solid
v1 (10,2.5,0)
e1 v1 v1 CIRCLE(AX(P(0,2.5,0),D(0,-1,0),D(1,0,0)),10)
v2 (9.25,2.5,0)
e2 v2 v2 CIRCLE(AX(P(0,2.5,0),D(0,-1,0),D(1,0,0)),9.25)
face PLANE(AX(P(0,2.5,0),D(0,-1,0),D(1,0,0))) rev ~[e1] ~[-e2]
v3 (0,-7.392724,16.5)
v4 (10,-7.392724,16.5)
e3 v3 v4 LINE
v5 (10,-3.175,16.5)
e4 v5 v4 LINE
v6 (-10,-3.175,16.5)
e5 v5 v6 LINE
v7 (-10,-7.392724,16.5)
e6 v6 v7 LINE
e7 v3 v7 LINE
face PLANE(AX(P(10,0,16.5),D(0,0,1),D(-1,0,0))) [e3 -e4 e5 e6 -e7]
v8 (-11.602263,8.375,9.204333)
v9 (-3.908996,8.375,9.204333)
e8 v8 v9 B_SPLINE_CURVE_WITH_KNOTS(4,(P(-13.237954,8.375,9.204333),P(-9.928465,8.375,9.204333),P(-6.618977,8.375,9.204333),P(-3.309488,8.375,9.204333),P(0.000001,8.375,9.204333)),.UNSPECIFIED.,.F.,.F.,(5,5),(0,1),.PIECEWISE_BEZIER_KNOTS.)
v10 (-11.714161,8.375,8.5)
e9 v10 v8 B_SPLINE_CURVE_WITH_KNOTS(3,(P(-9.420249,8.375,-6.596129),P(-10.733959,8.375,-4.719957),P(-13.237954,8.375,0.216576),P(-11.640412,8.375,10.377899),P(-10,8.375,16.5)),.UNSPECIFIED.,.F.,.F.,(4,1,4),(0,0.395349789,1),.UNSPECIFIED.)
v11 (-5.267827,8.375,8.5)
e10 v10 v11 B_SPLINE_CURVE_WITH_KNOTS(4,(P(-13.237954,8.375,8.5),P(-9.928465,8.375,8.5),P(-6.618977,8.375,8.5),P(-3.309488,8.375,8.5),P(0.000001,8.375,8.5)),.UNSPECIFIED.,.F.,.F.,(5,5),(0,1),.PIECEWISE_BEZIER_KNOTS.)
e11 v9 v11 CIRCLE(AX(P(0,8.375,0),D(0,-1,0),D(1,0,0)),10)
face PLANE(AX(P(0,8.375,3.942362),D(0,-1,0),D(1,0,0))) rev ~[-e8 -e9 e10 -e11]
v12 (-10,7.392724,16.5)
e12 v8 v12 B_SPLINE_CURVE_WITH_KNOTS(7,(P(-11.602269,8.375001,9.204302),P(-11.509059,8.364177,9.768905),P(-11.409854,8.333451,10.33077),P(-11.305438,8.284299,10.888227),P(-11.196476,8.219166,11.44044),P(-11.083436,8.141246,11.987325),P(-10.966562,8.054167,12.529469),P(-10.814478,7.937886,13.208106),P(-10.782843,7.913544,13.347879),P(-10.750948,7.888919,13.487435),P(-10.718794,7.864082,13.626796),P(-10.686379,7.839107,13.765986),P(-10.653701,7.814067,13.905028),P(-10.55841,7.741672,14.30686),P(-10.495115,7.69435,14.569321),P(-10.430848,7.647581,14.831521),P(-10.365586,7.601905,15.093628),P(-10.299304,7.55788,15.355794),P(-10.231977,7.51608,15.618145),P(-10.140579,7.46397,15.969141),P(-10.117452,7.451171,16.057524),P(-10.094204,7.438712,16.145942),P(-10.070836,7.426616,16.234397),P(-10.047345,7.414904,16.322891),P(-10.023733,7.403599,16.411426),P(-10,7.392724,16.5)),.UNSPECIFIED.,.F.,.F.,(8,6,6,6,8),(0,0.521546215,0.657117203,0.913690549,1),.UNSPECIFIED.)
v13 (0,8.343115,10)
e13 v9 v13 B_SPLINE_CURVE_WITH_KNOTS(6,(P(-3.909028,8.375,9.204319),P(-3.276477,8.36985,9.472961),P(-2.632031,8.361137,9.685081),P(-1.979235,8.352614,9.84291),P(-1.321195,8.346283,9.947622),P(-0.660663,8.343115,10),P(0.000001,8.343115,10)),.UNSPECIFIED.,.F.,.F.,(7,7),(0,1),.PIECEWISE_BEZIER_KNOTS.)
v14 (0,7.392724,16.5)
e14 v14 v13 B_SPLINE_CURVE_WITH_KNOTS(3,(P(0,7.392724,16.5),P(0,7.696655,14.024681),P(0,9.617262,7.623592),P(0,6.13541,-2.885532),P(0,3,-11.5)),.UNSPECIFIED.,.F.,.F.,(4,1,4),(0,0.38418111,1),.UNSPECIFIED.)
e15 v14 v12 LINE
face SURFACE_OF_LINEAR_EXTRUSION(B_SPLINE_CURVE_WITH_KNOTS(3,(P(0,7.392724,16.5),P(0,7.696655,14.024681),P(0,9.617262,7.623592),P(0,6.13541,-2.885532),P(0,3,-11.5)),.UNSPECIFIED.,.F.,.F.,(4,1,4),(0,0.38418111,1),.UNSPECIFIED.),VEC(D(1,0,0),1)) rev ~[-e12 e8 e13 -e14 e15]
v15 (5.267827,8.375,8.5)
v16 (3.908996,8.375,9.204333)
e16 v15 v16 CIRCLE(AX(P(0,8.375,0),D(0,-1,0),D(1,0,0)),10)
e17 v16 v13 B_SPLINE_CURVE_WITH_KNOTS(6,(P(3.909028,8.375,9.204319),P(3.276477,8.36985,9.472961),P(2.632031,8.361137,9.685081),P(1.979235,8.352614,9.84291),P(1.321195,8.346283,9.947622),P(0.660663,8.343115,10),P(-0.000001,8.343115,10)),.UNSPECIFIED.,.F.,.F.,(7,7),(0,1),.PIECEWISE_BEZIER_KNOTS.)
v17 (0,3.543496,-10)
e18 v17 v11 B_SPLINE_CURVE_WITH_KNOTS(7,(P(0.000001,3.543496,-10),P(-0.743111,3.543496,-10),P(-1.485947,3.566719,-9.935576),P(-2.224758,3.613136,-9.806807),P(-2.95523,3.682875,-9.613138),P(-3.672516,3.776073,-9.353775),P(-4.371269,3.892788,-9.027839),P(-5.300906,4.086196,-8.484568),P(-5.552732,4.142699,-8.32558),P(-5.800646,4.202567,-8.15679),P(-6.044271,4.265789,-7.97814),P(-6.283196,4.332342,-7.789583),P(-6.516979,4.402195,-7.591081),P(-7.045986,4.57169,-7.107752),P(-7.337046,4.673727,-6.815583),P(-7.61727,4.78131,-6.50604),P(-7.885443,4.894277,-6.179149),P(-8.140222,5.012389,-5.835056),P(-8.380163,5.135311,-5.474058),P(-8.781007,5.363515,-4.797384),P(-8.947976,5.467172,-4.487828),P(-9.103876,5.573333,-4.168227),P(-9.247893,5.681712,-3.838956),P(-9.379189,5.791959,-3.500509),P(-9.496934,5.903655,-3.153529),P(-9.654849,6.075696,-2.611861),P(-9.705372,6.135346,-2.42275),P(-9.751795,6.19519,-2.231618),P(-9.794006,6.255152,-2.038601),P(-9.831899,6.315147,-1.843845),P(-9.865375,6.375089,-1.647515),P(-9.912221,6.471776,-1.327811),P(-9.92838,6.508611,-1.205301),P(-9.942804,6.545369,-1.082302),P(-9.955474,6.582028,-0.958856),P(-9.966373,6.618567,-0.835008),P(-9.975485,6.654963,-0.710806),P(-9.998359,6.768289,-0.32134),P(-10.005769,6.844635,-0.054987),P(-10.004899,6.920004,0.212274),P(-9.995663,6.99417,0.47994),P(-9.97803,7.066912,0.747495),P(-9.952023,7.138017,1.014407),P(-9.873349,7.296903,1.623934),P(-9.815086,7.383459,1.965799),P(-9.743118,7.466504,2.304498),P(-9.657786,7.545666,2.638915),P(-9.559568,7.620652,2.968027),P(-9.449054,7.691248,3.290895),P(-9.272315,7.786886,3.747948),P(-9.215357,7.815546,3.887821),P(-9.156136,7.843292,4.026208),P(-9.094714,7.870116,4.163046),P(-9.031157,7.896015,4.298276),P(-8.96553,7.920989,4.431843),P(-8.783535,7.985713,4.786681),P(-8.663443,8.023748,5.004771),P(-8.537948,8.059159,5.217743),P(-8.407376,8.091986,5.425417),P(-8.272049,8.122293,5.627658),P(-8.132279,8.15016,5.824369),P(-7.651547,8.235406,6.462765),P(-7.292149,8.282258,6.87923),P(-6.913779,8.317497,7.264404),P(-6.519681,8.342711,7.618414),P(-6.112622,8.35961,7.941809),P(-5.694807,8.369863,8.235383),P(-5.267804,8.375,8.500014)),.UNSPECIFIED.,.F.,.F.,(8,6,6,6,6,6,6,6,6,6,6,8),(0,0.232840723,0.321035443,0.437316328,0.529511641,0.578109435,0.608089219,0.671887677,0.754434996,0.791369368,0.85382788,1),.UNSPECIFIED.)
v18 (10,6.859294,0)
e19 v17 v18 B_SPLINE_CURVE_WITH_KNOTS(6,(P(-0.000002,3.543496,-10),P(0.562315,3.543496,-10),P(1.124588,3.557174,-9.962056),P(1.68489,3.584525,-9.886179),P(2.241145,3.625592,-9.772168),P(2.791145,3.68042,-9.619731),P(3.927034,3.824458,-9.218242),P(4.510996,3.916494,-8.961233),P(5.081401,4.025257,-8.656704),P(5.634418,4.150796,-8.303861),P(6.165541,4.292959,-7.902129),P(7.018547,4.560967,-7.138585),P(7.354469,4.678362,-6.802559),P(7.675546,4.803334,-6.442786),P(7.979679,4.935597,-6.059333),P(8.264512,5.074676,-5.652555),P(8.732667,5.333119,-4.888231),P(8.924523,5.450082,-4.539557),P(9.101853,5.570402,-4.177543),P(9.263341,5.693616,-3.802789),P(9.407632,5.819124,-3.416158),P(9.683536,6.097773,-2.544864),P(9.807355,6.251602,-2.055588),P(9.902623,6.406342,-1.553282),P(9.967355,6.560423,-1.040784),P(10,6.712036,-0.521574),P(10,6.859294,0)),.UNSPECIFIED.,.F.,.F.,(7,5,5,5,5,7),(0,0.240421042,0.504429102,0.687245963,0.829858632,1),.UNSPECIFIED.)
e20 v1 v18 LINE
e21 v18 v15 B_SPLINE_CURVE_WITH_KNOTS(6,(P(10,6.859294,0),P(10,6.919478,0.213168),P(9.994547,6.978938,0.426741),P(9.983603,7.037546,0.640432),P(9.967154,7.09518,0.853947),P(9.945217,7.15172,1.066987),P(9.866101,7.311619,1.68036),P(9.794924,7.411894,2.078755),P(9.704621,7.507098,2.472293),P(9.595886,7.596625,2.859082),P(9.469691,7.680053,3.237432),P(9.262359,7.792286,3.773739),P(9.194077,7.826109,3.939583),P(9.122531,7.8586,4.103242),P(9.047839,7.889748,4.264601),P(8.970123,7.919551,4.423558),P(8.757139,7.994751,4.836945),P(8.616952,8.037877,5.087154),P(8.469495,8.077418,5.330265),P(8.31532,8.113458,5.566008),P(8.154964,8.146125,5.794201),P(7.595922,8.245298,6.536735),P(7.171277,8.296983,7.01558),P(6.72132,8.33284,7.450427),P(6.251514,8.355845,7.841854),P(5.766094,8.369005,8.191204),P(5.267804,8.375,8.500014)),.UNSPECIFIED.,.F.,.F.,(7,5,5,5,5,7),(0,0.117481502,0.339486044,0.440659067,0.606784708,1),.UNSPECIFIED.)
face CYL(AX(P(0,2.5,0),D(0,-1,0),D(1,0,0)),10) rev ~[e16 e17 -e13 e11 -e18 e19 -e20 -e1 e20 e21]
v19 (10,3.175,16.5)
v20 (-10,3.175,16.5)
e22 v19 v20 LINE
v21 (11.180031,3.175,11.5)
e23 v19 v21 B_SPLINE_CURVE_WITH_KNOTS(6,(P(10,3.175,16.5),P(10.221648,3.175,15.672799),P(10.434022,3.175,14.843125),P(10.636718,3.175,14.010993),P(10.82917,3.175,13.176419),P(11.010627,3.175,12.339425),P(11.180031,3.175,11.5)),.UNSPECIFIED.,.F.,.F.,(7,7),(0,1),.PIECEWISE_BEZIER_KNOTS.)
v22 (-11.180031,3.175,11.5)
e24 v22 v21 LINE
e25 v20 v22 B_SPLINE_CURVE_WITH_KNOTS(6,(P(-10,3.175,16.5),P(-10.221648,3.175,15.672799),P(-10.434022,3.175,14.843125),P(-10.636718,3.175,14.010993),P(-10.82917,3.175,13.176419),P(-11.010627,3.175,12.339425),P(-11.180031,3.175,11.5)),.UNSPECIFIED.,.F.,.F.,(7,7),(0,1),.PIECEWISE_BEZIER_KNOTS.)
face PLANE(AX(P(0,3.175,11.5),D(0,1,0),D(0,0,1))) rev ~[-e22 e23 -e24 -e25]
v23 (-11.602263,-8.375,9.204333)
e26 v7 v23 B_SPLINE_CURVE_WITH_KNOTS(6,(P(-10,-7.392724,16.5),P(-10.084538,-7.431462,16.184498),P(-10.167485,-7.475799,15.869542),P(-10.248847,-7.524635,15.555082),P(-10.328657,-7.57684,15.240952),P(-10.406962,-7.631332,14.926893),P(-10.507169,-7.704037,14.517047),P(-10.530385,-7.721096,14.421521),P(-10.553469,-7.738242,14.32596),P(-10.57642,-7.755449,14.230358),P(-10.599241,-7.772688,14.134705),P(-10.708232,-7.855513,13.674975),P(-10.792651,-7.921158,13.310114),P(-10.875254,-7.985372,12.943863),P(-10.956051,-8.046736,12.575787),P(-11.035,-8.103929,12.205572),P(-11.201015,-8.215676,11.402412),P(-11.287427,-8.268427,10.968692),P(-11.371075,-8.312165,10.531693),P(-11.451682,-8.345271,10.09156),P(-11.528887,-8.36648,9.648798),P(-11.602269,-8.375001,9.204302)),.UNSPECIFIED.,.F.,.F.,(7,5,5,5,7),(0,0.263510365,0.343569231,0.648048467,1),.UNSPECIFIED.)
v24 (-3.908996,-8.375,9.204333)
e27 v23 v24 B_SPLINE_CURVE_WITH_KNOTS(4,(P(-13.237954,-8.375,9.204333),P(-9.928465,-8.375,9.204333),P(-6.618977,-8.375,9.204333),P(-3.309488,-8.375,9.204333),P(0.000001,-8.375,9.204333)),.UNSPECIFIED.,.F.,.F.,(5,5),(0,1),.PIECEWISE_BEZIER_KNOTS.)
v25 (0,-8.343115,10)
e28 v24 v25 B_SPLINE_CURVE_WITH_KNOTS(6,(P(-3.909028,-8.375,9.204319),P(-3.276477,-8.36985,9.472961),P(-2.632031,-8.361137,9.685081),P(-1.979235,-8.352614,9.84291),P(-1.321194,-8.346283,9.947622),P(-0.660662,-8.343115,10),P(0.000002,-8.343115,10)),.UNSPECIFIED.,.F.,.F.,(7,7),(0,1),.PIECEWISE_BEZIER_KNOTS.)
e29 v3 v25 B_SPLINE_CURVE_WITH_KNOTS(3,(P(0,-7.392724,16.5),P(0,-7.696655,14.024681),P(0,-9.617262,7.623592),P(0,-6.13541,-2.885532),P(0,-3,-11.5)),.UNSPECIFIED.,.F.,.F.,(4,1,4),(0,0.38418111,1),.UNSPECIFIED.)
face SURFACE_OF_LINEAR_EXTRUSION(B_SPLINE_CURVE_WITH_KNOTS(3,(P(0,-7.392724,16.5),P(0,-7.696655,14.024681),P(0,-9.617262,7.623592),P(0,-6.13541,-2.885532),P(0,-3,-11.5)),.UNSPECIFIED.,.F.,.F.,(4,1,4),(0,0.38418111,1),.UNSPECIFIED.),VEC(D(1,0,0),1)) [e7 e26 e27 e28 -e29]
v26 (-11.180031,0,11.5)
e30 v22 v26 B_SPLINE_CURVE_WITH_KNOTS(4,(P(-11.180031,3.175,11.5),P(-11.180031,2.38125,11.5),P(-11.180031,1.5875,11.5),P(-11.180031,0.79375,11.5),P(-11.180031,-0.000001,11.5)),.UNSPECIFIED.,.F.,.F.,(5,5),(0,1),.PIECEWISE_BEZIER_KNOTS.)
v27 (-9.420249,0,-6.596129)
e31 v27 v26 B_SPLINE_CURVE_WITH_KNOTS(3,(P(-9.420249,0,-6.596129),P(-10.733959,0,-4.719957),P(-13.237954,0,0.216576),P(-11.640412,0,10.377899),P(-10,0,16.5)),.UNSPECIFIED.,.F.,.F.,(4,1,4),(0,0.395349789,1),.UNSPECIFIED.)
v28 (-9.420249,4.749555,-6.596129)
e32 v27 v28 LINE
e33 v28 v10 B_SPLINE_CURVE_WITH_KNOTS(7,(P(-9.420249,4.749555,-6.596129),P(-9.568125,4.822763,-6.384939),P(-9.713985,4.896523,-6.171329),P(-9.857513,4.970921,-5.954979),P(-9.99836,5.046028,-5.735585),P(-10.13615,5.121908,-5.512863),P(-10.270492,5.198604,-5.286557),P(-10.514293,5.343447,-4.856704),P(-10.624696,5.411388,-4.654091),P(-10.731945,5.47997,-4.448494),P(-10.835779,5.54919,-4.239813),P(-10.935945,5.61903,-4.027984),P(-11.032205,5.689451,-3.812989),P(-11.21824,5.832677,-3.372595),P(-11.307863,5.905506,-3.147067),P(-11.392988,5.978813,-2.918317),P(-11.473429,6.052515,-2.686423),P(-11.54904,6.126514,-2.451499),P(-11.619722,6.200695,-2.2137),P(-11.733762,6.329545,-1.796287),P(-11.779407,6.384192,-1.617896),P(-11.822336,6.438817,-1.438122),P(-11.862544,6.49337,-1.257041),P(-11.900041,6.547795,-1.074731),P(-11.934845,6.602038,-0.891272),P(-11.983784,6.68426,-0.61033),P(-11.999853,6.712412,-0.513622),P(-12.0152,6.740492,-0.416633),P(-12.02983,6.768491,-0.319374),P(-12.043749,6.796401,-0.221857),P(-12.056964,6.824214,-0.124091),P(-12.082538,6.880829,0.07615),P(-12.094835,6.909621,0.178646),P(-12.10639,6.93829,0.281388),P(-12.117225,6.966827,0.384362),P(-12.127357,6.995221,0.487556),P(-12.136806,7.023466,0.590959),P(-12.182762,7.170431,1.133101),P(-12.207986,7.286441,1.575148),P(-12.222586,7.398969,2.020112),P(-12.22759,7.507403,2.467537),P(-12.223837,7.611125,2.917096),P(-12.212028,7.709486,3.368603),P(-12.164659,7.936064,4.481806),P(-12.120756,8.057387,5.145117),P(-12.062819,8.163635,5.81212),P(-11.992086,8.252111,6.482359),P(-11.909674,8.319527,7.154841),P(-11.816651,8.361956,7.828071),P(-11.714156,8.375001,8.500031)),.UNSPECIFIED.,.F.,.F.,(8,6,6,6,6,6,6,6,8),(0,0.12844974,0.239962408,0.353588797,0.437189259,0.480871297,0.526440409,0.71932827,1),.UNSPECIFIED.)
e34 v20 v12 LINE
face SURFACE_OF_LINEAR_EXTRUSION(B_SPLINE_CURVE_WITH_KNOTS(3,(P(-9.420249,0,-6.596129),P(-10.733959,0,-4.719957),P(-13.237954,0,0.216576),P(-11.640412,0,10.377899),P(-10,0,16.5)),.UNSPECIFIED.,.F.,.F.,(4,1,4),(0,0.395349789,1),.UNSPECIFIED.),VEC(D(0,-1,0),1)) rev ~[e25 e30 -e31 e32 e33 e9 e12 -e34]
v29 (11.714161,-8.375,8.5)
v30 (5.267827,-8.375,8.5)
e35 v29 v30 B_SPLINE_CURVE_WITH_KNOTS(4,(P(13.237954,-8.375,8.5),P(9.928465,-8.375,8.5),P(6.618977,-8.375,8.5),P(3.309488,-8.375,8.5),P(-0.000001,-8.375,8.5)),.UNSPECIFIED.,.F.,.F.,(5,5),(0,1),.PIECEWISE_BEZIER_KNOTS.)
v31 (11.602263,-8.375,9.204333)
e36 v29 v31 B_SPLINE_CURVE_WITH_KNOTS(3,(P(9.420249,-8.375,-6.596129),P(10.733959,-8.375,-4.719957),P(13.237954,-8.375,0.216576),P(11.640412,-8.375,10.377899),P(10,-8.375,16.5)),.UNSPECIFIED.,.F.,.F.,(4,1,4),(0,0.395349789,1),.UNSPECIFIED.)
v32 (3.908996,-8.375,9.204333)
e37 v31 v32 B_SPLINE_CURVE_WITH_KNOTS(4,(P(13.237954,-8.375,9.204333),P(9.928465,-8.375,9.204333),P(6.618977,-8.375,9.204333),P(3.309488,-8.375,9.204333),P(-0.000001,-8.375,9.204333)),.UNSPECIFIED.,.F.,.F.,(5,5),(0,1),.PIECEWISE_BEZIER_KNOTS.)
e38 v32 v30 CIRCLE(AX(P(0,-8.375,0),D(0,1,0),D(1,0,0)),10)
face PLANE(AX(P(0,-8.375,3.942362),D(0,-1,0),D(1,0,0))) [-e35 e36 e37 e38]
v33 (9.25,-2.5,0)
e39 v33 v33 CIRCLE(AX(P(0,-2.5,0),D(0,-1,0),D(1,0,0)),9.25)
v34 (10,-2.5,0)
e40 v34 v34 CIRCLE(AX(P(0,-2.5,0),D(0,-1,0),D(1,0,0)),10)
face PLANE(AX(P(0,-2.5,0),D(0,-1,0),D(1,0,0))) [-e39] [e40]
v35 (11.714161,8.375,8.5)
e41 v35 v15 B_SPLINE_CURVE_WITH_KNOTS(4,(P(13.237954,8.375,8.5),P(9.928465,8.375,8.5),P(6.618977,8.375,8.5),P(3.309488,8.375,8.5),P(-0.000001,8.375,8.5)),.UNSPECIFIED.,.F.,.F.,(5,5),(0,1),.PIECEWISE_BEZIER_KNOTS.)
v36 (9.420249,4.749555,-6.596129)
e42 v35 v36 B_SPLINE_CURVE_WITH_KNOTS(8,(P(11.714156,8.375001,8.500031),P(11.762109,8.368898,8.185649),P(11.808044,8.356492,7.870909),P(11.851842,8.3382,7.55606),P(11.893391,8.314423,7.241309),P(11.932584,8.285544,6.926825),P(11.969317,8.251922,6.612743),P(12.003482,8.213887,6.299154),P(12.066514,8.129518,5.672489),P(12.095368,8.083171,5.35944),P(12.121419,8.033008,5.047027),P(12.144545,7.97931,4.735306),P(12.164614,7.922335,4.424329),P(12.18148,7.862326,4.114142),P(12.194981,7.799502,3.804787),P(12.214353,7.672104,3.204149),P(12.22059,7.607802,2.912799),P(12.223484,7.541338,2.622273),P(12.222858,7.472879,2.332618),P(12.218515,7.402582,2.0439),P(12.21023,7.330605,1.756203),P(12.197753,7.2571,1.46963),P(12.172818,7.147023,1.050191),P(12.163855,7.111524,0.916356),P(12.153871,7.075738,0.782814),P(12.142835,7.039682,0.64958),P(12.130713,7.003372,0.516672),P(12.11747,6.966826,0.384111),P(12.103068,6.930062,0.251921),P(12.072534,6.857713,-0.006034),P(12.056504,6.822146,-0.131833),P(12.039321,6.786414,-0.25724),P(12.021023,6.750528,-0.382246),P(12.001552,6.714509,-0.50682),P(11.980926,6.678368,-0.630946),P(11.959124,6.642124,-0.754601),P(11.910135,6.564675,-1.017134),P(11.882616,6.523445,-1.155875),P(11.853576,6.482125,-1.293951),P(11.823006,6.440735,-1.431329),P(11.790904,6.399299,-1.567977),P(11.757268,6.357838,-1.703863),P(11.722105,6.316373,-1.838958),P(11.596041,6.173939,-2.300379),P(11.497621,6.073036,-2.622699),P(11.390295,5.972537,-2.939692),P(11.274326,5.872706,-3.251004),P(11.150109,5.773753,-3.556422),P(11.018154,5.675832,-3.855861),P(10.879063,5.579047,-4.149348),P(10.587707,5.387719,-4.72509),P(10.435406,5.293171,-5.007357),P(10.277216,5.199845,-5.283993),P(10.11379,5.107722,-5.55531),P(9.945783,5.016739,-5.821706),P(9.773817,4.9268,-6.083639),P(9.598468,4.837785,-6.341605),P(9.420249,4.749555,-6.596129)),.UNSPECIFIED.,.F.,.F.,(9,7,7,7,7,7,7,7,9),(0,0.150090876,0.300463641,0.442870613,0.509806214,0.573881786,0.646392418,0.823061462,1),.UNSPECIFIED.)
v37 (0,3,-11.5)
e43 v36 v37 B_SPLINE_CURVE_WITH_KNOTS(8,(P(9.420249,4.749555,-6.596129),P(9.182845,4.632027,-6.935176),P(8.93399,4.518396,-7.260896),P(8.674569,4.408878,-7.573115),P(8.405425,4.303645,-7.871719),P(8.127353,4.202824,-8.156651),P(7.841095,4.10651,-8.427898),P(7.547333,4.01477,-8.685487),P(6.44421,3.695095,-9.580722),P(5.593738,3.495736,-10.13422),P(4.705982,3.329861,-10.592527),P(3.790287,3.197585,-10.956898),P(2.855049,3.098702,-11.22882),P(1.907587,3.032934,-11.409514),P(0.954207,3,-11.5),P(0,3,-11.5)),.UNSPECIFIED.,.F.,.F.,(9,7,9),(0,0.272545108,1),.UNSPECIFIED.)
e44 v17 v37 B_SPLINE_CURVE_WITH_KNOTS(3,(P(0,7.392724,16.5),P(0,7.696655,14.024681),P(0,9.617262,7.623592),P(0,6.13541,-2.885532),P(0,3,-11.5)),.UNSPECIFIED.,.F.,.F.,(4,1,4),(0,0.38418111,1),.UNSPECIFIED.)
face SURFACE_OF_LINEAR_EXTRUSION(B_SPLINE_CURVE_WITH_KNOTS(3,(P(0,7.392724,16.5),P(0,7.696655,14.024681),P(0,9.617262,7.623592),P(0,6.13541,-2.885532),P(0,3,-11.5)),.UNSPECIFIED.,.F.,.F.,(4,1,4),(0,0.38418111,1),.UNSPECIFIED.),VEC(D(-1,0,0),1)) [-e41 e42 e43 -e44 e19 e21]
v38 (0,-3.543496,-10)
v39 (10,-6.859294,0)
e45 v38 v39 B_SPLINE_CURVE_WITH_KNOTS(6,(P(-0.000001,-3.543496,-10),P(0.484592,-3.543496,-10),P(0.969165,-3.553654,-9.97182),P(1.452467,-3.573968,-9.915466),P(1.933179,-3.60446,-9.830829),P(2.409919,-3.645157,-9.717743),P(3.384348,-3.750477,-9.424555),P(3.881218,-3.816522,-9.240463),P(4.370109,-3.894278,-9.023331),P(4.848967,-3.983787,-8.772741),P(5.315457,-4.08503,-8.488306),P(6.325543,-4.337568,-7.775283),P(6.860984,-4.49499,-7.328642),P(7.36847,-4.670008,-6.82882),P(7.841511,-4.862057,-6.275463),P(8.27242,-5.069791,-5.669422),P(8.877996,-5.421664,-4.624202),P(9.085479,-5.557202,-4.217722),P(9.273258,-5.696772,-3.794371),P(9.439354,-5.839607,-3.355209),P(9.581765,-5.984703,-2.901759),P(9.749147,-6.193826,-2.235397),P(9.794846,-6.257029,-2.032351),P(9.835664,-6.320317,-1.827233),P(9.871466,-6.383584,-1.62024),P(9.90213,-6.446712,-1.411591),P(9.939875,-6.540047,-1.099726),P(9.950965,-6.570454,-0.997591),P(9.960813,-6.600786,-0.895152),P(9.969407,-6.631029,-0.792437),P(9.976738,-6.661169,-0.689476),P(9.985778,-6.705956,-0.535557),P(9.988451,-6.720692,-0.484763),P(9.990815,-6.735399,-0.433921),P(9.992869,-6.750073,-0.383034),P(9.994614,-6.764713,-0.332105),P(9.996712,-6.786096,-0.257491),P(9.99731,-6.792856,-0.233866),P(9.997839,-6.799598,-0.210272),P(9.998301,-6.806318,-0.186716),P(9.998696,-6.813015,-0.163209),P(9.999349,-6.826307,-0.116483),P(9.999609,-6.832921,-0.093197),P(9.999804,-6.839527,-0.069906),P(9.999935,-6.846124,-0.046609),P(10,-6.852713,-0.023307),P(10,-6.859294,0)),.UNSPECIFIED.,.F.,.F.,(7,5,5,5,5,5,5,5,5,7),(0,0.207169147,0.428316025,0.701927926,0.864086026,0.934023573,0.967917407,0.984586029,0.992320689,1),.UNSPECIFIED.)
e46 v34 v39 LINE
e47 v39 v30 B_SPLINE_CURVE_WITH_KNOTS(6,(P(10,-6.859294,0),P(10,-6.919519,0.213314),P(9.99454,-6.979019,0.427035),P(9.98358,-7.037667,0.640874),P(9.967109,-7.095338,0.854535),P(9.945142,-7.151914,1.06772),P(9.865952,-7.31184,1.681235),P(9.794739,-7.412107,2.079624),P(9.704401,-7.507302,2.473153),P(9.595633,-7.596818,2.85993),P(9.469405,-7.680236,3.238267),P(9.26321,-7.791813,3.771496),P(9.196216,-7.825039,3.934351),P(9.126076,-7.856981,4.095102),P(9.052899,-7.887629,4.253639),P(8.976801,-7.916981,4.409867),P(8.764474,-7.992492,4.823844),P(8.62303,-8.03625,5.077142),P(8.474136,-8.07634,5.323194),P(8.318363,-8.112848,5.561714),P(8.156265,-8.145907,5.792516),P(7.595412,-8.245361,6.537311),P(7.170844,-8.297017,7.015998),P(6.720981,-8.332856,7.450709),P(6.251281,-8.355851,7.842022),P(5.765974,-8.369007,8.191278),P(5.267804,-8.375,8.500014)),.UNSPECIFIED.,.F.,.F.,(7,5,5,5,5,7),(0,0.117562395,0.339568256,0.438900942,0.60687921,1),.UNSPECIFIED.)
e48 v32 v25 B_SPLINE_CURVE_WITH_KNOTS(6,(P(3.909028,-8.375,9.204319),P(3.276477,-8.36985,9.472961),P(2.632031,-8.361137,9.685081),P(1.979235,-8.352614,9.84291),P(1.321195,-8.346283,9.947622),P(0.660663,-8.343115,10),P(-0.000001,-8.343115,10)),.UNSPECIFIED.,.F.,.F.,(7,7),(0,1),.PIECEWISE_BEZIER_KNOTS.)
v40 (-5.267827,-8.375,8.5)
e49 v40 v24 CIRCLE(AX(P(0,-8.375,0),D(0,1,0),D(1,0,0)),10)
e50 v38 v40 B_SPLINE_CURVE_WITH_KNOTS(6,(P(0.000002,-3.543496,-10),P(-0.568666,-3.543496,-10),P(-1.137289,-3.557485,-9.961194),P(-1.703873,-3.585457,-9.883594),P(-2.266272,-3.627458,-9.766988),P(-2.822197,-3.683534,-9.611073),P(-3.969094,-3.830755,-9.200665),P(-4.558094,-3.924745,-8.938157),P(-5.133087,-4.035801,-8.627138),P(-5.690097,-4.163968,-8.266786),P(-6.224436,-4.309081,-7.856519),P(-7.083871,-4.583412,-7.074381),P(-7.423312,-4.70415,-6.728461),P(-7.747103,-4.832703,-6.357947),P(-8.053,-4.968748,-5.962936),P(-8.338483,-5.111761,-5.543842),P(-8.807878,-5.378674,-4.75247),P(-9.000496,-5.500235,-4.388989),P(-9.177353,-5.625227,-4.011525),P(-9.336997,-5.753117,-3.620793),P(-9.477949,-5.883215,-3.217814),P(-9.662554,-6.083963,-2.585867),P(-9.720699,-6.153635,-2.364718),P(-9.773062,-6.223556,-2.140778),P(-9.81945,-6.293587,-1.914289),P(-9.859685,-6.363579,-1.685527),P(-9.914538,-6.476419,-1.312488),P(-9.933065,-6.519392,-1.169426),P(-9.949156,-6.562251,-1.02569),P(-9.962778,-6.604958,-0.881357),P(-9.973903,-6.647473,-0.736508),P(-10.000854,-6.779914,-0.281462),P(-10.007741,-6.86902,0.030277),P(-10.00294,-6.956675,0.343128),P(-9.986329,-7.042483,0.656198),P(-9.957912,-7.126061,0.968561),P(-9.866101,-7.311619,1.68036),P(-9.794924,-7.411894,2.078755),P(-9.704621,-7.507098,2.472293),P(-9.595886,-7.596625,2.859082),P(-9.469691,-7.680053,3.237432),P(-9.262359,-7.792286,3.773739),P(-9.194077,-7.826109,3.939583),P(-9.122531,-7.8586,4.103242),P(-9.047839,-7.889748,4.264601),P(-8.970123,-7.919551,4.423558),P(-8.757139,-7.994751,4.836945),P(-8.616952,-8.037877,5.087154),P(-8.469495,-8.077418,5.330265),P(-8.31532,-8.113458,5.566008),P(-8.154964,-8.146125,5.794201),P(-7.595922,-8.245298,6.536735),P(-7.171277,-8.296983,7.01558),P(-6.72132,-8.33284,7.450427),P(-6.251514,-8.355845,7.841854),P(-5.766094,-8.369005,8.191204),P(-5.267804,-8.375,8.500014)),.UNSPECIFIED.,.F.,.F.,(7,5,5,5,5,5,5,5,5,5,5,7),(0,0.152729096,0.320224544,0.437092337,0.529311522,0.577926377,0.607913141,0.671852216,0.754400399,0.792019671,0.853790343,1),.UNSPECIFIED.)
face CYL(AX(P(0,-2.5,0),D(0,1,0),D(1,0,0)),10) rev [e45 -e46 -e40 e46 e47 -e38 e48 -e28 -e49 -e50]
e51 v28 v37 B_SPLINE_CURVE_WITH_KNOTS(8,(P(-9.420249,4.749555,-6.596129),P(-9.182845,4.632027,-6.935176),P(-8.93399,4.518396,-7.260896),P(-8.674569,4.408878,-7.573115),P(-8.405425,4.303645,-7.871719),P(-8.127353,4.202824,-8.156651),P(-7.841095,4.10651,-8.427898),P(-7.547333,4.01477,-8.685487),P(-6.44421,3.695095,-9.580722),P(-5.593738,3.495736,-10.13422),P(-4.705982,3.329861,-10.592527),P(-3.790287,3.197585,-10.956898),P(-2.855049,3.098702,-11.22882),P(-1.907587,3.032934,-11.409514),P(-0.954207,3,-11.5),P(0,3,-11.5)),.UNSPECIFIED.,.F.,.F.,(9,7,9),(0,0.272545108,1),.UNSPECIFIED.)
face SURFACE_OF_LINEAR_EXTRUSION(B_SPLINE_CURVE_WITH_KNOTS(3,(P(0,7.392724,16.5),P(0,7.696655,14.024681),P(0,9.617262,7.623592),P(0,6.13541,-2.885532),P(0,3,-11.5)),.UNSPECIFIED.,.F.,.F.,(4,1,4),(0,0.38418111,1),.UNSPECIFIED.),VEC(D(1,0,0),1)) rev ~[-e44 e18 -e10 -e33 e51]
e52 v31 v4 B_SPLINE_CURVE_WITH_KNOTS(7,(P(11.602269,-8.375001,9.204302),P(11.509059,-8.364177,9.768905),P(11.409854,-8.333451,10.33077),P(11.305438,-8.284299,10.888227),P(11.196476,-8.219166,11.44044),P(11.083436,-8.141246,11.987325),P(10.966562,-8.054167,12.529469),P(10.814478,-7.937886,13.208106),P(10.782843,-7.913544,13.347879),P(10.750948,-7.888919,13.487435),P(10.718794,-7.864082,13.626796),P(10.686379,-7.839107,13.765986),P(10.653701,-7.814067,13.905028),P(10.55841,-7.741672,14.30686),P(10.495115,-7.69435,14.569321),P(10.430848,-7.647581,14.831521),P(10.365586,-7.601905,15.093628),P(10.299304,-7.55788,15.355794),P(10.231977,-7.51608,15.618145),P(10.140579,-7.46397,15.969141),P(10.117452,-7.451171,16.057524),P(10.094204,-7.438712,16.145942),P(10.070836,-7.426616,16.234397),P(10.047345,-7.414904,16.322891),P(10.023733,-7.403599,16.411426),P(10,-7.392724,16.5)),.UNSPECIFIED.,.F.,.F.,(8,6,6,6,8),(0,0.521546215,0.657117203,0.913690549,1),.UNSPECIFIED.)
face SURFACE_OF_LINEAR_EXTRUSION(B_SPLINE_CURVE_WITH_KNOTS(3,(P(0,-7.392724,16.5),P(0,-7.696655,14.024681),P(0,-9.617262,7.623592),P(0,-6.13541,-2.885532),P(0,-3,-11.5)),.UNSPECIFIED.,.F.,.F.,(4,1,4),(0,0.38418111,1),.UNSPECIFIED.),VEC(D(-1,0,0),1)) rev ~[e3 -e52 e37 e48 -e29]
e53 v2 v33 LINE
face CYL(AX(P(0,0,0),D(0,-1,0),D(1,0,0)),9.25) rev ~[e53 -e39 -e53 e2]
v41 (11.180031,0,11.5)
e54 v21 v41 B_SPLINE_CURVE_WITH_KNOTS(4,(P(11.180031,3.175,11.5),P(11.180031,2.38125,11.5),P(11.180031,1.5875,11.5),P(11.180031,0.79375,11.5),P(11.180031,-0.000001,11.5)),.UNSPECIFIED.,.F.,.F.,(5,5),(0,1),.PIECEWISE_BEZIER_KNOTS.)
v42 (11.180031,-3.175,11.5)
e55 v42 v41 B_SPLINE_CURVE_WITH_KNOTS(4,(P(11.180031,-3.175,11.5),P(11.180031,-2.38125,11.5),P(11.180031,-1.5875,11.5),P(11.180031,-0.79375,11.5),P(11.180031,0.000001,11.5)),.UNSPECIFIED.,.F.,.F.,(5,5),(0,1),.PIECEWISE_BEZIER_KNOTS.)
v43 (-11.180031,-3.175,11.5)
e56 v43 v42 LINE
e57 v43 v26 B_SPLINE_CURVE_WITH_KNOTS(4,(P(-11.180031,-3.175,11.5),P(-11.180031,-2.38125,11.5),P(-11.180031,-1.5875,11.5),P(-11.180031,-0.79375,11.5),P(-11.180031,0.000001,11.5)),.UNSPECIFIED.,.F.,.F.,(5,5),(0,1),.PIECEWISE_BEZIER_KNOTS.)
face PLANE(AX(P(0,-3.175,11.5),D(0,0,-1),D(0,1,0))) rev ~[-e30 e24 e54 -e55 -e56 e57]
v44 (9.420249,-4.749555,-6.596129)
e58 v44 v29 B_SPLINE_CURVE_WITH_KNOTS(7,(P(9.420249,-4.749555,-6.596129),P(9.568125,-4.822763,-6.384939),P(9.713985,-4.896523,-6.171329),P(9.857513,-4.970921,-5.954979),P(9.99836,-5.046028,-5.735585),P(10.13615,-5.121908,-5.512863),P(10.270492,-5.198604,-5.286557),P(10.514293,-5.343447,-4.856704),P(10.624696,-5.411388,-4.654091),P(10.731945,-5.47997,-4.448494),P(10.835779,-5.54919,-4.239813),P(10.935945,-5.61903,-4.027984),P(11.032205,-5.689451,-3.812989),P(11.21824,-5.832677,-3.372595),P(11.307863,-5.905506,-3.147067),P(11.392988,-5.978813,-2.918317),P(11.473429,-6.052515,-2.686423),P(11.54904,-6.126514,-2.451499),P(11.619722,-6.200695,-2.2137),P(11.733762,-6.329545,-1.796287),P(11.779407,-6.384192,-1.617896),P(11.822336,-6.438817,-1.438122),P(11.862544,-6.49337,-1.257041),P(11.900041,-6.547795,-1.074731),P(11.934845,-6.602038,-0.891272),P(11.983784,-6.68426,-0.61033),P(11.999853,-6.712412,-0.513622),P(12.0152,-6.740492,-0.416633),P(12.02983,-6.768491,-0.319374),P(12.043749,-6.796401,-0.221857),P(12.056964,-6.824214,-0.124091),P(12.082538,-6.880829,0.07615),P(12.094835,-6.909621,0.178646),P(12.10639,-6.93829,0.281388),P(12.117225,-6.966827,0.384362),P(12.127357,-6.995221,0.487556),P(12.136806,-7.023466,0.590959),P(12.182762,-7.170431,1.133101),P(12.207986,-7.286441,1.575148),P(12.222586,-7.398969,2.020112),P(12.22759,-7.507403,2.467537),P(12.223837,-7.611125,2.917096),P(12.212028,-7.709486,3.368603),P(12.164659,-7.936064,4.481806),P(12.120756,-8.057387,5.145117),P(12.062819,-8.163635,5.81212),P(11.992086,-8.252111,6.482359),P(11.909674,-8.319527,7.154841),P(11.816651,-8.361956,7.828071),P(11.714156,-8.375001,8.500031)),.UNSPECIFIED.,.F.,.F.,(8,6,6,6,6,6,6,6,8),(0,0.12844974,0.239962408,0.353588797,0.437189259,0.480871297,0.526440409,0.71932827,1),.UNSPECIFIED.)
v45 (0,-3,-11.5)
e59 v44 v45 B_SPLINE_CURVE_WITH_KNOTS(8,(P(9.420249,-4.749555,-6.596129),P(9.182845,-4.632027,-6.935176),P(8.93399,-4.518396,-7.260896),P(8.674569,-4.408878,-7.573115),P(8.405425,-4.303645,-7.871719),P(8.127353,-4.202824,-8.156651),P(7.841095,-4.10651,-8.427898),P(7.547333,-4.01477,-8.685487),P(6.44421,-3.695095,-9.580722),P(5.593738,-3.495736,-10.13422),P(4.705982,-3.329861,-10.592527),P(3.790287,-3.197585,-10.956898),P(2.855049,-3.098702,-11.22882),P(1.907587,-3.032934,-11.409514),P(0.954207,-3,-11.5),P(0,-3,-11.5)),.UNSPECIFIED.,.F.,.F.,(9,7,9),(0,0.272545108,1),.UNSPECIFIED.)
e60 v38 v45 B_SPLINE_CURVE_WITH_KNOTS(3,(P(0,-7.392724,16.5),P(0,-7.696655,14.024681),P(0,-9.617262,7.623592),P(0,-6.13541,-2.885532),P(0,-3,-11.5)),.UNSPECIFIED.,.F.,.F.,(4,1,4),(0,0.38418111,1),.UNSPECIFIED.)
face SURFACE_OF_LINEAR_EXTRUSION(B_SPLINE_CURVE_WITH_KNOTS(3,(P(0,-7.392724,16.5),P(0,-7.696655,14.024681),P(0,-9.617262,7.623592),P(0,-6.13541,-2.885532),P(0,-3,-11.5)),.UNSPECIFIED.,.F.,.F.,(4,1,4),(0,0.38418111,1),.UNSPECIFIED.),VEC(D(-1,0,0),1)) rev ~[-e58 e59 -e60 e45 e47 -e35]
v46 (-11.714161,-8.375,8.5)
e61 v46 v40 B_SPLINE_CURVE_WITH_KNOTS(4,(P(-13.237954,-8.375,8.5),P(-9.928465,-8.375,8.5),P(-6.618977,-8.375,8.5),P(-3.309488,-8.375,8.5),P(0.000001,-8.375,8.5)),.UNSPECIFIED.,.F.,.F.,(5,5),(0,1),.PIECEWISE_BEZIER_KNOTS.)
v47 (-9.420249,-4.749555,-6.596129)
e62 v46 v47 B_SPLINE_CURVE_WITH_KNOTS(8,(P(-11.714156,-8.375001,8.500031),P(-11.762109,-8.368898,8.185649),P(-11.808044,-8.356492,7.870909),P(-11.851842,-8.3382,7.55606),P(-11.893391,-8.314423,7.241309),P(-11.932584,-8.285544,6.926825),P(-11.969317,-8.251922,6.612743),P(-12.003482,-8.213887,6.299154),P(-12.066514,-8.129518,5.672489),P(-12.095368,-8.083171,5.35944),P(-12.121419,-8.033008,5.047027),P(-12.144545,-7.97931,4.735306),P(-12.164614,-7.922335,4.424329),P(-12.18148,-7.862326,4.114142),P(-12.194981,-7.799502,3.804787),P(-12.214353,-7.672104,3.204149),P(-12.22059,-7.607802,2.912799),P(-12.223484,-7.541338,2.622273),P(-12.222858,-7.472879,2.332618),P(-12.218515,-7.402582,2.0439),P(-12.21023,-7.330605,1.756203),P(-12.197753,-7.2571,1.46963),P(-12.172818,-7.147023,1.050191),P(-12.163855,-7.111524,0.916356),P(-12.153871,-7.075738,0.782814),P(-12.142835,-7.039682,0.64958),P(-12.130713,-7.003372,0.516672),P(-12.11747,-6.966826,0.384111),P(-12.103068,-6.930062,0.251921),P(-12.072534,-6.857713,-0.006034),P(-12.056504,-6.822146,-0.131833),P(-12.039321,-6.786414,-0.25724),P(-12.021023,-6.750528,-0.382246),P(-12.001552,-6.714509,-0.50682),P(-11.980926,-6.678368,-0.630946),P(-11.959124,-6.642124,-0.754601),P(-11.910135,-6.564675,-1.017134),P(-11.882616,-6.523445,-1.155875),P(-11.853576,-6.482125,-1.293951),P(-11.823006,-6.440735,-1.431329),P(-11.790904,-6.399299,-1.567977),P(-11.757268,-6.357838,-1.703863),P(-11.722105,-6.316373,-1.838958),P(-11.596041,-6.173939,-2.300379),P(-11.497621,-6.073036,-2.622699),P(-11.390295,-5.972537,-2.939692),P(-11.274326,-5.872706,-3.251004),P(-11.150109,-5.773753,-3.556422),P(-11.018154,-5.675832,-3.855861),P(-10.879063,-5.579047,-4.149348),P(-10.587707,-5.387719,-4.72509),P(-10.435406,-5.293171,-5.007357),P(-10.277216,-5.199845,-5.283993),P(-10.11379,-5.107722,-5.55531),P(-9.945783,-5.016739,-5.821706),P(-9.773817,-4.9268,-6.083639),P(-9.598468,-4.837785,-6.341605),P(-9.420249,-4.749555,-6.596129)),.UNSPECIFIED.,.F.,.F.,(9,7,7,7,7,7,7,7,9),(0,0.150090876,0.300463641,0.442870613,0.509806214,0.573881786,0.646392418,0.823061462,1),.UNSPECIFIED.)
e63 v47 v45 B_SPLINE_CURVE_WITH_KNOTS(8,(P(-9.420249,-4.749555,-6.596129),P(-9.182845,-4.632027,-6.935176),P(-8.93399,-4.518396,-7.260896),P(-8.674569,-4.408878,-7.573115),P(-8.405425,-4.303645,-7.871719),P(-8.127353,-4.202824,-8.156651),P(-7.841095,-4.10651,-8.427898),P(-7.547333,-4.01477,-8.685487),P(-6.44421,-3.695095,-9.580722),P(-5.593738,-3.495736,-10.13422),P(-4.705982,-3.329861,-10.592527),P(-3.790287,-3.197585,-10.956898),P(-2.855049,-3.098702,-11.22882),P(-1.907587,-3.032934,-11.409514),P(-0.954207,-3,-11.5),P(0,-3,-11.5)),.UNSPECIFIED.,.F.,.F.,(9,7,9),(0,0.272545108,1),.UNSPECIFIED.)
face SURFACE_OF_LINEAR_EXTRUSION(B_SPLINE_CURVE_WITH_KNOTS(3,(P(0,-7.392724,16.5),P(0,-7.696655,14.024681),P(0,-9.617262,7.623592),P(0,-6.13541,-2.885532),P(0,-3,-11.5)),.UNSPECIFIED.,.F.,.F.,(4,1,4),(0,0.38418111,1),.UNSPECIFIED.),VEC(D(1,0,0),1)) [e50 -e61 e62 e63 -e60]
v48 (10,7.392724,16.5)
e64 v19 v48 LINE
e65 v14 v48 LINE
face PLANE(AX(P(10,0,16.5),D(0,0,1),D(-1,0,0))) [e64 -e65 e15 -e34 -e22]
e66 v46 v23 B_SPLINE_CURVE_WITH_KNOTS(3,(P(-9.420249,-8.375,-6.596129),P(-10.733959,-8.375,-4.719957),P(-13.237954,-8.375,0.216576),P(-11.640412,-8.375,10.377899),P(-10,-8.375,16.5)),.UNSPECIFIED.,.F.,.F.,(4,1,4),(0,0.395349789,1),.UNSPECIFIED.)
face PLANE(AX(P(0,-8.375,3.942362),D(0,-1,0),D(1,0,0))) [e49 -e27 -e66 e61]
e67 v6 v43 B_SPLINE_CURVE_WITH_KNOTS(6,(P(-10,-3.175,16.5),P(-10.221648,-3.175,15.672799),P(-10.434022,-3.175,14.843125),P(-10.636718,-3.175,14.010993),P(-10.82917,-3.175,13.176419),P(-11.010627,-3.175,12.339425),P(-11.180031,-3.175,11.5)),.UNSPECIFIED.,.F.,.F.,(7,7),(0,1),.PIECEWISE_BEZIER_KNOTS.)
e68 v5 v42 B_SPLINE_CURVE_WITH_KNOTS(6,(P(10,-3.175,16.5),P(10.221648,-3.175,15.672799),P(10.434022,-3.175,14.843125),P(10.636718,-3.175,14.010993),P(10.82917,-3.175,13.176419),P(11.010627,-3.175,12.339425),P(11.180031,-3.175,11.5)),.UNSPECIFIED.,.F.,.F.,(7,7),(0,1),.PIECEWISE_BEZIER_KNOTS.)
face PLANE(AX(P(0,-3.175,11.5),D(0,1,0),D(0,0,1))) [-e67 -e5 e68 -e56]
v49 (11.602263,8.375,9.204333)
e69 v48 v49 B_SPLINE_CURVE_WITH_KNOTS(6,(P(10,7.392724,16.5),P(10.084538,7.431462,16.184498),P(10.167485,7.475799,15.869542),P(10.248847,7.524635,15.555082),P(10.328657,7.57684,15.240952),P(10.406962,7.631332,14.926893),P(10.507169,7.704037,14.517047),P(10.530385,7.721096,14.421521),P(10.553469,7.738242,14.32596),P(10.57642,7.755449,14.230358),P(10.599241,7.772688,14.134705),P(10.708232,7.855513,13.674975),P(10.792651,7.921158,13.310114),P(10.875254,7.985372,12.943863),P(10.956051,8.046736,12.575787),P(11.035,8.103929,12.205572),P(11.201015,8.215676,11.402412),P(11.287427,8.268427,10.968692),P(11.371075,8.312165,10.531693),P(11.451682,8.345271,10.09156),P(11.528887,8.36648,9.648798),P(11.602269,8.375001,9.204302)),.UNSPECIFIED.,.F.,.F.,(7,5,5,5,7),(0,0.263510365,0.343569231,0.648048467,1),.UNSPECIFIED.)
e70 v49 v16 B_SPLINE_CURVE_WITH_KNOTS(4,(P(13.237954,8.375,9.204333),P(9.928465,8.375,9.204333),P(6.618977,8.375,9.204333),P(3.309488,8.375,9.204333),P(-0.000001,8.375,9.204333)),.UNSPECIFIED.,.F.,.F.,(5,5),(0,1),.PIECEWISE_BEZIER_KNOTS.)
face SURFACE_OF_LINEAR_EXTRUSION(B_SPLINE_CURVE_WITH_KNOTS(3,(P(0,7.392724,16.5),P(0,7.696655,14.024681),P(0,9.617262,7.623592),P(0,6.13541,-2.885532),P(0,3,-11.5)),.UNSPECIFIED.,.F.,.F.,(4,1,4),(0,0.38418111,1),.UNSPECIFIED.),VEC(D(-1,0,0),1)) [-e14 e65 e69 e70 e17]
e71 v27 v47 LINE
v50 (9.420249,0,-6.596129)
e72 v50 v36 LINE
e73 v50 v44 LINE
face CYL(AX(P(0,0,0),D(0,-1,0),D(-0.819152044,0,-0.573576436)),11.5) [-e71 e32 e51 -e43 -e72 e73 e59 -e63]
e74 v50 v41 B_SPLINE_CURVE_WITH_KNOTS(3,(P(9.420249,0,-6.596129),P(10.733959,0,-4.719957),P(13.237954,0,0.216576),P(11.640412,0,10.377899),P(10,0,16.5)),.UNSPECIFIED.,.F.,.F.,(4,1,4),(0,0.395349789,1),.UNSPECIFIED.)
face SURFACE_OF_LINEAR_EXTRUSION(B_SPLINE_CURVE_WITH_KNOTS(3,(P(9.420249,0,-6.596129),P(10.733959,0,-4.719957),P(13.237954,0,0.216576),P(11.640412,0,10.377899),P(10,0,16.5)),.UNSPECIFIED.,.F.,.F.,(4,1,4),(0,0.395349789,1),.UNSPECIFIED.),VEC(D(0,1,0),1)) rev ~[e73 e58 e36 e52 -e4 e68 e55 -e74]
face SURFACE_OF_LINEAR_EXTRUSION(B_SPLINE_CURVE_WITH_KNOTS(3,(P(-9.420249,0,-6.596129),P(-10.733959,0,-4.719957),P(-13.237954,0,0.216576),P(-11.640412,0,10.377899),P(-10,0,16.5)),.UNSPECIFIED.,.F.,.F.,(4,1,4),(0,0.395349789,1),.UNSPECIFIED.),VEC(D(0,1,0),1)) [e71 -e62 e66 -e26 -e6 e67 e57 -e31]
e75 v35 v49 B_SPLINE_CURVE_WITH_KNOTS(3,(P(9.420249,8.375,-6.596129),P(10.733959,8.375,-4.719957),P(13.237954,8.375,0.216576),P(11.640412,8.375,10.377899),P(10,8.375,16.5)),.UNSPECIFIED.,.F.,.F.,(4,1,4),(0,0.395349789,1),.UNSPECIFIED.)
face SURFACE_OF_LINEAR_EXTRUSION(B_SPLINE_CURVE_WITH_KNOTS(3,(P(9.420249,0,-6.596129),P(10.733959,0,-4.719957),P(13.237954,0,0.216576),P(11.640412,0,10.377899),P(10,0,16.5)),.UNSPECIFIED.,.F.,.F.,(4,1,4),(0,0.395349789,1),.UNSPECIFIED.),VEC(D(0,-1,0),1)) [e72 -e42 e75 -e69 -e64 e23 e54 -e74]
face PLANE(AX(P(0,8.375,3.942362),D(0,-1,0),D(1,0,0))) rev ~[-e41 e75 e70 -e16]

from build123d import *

# Parameters (mm, degrees)
F1_R      = 8.5
F2_DEPTH  = 8.375
F4_DEPTH  = 25
F5_R      = 9.25
F6_DEPTH  = 25
F8_R      = 10
F9_DEPTH  = 25
F11_R     = 10
F12_DEPTH = 25
F14_W     = 6.35
F14_H     = 15
F15_DEPTH = 25


with BuildPart() as f2:
    # F1 (on Front) → F2 (new body, symmetric)
    with BuildSketch(Plane.XZ):
        with BuildLine():
            Line((10, 16.5), (-10, 16.5))
            add(Edge.make_bspline(
                [(-9.4202485093, -6.596129018), (-10.7339585576, -4.7199566312), (-13.237953942, 0.2165761702), (-11.6404121135, 10.3778986471), (-10, 16.5)],
                knots=[0, 0, 0, 0, 0.3953497888, 1, 1, 1, 1], degree=3))
            ThreePointArc((-9.4202485093, -6.596129018), (0, -11.5), (9.4202485093, -6.596129018))
            add(Edge.make_bspline(
                [(9.4202485093, -6.596129018), (10.7339585576, -4.7199566312), (13.237953942, 0.2165761702), (11.6404121135, 10.3778986471), (10, 16.5)],
                knots=[0, 0, 0, 0, 0.3953497888, 1, 1, 1, 1], degree=3))
        make_face()
        Circle(F1_R, mode=Mode.SUBTRACT)
    extrude(amount=F2_DEPTH, both=True)

    # F3 (on Right) → F4 (intersect, symmetric)
    with BuildSketch(Plane.YZ):
        with BuildLine():
            Line((0, 23.2340655672), (-7.3927235128, 16.5))
            add(Edge.make_bspline(
                [(-7.3927235128, 16.5), (-7.6966545202, 14.0246805856), (-9.6172618847, 7.6235921039), (-6.1354099401, -2.8855319888), (-3, -11.5)],
                knots=[0, 0, 0, 0, 0.3841811099, 1, 1, 1, 1], degree=3))
            Line((-3, -11.5), (0, -19.7424322584))
            Line((0, -19.7424322584), (3, -11.5))
            add(Edge.make_bspline(
                [(7.3927235128, 16.5), (7.6966545202, 14.0246805856), (9.6172618847, 7.6235921039), (6.1354099401, -2.8855319888), (3, -11.5)],
                knots=[0, 0, 0, 0, 0.3841811099, 1, 1, 1, 1], degree=3))
            Line((7.3927235128, 16.5), (0, 23.2340655672))
        make_face()
    extrude(amount=F4_DEPTH, both=True, mode=Mode.INTERSECT)

    # F5 (on Front) → F6 (cut, symmetric)
    with BuildSketch(Plane.XZ):
        Circle(F5_R)
    extrude(amount=F6_DEPTH, both=True, mode=Mode.SUBTRACT)

    # F8 (on offset) → F9 (cut)
    with BuildSketch(Plane.XZ.offset(2.5)):
        Circle(F8_R)
    extrude(amount=F9_DEPTH, mode=Mode.SUBTRACT)

    # F11 (on offset) → F12 (cut)
    with BuildSketch(Plane.XZ.offset(-2.5)):
        Circle(F11_R)
    extrude(amount=-F12_DEPTH, mode=Mode.SUBTRACT)

    # F14 (on Right) → F15 (cut, symmetric)
    with BuildSketch(Plane.YZ):
        with Locations((0, 19)):
            Rectangle(F14_W, F14_H)
    extrude(amount=F15_DEPTH, both=True, mode=Mode.SUBTRACT)


solid = f2.part
